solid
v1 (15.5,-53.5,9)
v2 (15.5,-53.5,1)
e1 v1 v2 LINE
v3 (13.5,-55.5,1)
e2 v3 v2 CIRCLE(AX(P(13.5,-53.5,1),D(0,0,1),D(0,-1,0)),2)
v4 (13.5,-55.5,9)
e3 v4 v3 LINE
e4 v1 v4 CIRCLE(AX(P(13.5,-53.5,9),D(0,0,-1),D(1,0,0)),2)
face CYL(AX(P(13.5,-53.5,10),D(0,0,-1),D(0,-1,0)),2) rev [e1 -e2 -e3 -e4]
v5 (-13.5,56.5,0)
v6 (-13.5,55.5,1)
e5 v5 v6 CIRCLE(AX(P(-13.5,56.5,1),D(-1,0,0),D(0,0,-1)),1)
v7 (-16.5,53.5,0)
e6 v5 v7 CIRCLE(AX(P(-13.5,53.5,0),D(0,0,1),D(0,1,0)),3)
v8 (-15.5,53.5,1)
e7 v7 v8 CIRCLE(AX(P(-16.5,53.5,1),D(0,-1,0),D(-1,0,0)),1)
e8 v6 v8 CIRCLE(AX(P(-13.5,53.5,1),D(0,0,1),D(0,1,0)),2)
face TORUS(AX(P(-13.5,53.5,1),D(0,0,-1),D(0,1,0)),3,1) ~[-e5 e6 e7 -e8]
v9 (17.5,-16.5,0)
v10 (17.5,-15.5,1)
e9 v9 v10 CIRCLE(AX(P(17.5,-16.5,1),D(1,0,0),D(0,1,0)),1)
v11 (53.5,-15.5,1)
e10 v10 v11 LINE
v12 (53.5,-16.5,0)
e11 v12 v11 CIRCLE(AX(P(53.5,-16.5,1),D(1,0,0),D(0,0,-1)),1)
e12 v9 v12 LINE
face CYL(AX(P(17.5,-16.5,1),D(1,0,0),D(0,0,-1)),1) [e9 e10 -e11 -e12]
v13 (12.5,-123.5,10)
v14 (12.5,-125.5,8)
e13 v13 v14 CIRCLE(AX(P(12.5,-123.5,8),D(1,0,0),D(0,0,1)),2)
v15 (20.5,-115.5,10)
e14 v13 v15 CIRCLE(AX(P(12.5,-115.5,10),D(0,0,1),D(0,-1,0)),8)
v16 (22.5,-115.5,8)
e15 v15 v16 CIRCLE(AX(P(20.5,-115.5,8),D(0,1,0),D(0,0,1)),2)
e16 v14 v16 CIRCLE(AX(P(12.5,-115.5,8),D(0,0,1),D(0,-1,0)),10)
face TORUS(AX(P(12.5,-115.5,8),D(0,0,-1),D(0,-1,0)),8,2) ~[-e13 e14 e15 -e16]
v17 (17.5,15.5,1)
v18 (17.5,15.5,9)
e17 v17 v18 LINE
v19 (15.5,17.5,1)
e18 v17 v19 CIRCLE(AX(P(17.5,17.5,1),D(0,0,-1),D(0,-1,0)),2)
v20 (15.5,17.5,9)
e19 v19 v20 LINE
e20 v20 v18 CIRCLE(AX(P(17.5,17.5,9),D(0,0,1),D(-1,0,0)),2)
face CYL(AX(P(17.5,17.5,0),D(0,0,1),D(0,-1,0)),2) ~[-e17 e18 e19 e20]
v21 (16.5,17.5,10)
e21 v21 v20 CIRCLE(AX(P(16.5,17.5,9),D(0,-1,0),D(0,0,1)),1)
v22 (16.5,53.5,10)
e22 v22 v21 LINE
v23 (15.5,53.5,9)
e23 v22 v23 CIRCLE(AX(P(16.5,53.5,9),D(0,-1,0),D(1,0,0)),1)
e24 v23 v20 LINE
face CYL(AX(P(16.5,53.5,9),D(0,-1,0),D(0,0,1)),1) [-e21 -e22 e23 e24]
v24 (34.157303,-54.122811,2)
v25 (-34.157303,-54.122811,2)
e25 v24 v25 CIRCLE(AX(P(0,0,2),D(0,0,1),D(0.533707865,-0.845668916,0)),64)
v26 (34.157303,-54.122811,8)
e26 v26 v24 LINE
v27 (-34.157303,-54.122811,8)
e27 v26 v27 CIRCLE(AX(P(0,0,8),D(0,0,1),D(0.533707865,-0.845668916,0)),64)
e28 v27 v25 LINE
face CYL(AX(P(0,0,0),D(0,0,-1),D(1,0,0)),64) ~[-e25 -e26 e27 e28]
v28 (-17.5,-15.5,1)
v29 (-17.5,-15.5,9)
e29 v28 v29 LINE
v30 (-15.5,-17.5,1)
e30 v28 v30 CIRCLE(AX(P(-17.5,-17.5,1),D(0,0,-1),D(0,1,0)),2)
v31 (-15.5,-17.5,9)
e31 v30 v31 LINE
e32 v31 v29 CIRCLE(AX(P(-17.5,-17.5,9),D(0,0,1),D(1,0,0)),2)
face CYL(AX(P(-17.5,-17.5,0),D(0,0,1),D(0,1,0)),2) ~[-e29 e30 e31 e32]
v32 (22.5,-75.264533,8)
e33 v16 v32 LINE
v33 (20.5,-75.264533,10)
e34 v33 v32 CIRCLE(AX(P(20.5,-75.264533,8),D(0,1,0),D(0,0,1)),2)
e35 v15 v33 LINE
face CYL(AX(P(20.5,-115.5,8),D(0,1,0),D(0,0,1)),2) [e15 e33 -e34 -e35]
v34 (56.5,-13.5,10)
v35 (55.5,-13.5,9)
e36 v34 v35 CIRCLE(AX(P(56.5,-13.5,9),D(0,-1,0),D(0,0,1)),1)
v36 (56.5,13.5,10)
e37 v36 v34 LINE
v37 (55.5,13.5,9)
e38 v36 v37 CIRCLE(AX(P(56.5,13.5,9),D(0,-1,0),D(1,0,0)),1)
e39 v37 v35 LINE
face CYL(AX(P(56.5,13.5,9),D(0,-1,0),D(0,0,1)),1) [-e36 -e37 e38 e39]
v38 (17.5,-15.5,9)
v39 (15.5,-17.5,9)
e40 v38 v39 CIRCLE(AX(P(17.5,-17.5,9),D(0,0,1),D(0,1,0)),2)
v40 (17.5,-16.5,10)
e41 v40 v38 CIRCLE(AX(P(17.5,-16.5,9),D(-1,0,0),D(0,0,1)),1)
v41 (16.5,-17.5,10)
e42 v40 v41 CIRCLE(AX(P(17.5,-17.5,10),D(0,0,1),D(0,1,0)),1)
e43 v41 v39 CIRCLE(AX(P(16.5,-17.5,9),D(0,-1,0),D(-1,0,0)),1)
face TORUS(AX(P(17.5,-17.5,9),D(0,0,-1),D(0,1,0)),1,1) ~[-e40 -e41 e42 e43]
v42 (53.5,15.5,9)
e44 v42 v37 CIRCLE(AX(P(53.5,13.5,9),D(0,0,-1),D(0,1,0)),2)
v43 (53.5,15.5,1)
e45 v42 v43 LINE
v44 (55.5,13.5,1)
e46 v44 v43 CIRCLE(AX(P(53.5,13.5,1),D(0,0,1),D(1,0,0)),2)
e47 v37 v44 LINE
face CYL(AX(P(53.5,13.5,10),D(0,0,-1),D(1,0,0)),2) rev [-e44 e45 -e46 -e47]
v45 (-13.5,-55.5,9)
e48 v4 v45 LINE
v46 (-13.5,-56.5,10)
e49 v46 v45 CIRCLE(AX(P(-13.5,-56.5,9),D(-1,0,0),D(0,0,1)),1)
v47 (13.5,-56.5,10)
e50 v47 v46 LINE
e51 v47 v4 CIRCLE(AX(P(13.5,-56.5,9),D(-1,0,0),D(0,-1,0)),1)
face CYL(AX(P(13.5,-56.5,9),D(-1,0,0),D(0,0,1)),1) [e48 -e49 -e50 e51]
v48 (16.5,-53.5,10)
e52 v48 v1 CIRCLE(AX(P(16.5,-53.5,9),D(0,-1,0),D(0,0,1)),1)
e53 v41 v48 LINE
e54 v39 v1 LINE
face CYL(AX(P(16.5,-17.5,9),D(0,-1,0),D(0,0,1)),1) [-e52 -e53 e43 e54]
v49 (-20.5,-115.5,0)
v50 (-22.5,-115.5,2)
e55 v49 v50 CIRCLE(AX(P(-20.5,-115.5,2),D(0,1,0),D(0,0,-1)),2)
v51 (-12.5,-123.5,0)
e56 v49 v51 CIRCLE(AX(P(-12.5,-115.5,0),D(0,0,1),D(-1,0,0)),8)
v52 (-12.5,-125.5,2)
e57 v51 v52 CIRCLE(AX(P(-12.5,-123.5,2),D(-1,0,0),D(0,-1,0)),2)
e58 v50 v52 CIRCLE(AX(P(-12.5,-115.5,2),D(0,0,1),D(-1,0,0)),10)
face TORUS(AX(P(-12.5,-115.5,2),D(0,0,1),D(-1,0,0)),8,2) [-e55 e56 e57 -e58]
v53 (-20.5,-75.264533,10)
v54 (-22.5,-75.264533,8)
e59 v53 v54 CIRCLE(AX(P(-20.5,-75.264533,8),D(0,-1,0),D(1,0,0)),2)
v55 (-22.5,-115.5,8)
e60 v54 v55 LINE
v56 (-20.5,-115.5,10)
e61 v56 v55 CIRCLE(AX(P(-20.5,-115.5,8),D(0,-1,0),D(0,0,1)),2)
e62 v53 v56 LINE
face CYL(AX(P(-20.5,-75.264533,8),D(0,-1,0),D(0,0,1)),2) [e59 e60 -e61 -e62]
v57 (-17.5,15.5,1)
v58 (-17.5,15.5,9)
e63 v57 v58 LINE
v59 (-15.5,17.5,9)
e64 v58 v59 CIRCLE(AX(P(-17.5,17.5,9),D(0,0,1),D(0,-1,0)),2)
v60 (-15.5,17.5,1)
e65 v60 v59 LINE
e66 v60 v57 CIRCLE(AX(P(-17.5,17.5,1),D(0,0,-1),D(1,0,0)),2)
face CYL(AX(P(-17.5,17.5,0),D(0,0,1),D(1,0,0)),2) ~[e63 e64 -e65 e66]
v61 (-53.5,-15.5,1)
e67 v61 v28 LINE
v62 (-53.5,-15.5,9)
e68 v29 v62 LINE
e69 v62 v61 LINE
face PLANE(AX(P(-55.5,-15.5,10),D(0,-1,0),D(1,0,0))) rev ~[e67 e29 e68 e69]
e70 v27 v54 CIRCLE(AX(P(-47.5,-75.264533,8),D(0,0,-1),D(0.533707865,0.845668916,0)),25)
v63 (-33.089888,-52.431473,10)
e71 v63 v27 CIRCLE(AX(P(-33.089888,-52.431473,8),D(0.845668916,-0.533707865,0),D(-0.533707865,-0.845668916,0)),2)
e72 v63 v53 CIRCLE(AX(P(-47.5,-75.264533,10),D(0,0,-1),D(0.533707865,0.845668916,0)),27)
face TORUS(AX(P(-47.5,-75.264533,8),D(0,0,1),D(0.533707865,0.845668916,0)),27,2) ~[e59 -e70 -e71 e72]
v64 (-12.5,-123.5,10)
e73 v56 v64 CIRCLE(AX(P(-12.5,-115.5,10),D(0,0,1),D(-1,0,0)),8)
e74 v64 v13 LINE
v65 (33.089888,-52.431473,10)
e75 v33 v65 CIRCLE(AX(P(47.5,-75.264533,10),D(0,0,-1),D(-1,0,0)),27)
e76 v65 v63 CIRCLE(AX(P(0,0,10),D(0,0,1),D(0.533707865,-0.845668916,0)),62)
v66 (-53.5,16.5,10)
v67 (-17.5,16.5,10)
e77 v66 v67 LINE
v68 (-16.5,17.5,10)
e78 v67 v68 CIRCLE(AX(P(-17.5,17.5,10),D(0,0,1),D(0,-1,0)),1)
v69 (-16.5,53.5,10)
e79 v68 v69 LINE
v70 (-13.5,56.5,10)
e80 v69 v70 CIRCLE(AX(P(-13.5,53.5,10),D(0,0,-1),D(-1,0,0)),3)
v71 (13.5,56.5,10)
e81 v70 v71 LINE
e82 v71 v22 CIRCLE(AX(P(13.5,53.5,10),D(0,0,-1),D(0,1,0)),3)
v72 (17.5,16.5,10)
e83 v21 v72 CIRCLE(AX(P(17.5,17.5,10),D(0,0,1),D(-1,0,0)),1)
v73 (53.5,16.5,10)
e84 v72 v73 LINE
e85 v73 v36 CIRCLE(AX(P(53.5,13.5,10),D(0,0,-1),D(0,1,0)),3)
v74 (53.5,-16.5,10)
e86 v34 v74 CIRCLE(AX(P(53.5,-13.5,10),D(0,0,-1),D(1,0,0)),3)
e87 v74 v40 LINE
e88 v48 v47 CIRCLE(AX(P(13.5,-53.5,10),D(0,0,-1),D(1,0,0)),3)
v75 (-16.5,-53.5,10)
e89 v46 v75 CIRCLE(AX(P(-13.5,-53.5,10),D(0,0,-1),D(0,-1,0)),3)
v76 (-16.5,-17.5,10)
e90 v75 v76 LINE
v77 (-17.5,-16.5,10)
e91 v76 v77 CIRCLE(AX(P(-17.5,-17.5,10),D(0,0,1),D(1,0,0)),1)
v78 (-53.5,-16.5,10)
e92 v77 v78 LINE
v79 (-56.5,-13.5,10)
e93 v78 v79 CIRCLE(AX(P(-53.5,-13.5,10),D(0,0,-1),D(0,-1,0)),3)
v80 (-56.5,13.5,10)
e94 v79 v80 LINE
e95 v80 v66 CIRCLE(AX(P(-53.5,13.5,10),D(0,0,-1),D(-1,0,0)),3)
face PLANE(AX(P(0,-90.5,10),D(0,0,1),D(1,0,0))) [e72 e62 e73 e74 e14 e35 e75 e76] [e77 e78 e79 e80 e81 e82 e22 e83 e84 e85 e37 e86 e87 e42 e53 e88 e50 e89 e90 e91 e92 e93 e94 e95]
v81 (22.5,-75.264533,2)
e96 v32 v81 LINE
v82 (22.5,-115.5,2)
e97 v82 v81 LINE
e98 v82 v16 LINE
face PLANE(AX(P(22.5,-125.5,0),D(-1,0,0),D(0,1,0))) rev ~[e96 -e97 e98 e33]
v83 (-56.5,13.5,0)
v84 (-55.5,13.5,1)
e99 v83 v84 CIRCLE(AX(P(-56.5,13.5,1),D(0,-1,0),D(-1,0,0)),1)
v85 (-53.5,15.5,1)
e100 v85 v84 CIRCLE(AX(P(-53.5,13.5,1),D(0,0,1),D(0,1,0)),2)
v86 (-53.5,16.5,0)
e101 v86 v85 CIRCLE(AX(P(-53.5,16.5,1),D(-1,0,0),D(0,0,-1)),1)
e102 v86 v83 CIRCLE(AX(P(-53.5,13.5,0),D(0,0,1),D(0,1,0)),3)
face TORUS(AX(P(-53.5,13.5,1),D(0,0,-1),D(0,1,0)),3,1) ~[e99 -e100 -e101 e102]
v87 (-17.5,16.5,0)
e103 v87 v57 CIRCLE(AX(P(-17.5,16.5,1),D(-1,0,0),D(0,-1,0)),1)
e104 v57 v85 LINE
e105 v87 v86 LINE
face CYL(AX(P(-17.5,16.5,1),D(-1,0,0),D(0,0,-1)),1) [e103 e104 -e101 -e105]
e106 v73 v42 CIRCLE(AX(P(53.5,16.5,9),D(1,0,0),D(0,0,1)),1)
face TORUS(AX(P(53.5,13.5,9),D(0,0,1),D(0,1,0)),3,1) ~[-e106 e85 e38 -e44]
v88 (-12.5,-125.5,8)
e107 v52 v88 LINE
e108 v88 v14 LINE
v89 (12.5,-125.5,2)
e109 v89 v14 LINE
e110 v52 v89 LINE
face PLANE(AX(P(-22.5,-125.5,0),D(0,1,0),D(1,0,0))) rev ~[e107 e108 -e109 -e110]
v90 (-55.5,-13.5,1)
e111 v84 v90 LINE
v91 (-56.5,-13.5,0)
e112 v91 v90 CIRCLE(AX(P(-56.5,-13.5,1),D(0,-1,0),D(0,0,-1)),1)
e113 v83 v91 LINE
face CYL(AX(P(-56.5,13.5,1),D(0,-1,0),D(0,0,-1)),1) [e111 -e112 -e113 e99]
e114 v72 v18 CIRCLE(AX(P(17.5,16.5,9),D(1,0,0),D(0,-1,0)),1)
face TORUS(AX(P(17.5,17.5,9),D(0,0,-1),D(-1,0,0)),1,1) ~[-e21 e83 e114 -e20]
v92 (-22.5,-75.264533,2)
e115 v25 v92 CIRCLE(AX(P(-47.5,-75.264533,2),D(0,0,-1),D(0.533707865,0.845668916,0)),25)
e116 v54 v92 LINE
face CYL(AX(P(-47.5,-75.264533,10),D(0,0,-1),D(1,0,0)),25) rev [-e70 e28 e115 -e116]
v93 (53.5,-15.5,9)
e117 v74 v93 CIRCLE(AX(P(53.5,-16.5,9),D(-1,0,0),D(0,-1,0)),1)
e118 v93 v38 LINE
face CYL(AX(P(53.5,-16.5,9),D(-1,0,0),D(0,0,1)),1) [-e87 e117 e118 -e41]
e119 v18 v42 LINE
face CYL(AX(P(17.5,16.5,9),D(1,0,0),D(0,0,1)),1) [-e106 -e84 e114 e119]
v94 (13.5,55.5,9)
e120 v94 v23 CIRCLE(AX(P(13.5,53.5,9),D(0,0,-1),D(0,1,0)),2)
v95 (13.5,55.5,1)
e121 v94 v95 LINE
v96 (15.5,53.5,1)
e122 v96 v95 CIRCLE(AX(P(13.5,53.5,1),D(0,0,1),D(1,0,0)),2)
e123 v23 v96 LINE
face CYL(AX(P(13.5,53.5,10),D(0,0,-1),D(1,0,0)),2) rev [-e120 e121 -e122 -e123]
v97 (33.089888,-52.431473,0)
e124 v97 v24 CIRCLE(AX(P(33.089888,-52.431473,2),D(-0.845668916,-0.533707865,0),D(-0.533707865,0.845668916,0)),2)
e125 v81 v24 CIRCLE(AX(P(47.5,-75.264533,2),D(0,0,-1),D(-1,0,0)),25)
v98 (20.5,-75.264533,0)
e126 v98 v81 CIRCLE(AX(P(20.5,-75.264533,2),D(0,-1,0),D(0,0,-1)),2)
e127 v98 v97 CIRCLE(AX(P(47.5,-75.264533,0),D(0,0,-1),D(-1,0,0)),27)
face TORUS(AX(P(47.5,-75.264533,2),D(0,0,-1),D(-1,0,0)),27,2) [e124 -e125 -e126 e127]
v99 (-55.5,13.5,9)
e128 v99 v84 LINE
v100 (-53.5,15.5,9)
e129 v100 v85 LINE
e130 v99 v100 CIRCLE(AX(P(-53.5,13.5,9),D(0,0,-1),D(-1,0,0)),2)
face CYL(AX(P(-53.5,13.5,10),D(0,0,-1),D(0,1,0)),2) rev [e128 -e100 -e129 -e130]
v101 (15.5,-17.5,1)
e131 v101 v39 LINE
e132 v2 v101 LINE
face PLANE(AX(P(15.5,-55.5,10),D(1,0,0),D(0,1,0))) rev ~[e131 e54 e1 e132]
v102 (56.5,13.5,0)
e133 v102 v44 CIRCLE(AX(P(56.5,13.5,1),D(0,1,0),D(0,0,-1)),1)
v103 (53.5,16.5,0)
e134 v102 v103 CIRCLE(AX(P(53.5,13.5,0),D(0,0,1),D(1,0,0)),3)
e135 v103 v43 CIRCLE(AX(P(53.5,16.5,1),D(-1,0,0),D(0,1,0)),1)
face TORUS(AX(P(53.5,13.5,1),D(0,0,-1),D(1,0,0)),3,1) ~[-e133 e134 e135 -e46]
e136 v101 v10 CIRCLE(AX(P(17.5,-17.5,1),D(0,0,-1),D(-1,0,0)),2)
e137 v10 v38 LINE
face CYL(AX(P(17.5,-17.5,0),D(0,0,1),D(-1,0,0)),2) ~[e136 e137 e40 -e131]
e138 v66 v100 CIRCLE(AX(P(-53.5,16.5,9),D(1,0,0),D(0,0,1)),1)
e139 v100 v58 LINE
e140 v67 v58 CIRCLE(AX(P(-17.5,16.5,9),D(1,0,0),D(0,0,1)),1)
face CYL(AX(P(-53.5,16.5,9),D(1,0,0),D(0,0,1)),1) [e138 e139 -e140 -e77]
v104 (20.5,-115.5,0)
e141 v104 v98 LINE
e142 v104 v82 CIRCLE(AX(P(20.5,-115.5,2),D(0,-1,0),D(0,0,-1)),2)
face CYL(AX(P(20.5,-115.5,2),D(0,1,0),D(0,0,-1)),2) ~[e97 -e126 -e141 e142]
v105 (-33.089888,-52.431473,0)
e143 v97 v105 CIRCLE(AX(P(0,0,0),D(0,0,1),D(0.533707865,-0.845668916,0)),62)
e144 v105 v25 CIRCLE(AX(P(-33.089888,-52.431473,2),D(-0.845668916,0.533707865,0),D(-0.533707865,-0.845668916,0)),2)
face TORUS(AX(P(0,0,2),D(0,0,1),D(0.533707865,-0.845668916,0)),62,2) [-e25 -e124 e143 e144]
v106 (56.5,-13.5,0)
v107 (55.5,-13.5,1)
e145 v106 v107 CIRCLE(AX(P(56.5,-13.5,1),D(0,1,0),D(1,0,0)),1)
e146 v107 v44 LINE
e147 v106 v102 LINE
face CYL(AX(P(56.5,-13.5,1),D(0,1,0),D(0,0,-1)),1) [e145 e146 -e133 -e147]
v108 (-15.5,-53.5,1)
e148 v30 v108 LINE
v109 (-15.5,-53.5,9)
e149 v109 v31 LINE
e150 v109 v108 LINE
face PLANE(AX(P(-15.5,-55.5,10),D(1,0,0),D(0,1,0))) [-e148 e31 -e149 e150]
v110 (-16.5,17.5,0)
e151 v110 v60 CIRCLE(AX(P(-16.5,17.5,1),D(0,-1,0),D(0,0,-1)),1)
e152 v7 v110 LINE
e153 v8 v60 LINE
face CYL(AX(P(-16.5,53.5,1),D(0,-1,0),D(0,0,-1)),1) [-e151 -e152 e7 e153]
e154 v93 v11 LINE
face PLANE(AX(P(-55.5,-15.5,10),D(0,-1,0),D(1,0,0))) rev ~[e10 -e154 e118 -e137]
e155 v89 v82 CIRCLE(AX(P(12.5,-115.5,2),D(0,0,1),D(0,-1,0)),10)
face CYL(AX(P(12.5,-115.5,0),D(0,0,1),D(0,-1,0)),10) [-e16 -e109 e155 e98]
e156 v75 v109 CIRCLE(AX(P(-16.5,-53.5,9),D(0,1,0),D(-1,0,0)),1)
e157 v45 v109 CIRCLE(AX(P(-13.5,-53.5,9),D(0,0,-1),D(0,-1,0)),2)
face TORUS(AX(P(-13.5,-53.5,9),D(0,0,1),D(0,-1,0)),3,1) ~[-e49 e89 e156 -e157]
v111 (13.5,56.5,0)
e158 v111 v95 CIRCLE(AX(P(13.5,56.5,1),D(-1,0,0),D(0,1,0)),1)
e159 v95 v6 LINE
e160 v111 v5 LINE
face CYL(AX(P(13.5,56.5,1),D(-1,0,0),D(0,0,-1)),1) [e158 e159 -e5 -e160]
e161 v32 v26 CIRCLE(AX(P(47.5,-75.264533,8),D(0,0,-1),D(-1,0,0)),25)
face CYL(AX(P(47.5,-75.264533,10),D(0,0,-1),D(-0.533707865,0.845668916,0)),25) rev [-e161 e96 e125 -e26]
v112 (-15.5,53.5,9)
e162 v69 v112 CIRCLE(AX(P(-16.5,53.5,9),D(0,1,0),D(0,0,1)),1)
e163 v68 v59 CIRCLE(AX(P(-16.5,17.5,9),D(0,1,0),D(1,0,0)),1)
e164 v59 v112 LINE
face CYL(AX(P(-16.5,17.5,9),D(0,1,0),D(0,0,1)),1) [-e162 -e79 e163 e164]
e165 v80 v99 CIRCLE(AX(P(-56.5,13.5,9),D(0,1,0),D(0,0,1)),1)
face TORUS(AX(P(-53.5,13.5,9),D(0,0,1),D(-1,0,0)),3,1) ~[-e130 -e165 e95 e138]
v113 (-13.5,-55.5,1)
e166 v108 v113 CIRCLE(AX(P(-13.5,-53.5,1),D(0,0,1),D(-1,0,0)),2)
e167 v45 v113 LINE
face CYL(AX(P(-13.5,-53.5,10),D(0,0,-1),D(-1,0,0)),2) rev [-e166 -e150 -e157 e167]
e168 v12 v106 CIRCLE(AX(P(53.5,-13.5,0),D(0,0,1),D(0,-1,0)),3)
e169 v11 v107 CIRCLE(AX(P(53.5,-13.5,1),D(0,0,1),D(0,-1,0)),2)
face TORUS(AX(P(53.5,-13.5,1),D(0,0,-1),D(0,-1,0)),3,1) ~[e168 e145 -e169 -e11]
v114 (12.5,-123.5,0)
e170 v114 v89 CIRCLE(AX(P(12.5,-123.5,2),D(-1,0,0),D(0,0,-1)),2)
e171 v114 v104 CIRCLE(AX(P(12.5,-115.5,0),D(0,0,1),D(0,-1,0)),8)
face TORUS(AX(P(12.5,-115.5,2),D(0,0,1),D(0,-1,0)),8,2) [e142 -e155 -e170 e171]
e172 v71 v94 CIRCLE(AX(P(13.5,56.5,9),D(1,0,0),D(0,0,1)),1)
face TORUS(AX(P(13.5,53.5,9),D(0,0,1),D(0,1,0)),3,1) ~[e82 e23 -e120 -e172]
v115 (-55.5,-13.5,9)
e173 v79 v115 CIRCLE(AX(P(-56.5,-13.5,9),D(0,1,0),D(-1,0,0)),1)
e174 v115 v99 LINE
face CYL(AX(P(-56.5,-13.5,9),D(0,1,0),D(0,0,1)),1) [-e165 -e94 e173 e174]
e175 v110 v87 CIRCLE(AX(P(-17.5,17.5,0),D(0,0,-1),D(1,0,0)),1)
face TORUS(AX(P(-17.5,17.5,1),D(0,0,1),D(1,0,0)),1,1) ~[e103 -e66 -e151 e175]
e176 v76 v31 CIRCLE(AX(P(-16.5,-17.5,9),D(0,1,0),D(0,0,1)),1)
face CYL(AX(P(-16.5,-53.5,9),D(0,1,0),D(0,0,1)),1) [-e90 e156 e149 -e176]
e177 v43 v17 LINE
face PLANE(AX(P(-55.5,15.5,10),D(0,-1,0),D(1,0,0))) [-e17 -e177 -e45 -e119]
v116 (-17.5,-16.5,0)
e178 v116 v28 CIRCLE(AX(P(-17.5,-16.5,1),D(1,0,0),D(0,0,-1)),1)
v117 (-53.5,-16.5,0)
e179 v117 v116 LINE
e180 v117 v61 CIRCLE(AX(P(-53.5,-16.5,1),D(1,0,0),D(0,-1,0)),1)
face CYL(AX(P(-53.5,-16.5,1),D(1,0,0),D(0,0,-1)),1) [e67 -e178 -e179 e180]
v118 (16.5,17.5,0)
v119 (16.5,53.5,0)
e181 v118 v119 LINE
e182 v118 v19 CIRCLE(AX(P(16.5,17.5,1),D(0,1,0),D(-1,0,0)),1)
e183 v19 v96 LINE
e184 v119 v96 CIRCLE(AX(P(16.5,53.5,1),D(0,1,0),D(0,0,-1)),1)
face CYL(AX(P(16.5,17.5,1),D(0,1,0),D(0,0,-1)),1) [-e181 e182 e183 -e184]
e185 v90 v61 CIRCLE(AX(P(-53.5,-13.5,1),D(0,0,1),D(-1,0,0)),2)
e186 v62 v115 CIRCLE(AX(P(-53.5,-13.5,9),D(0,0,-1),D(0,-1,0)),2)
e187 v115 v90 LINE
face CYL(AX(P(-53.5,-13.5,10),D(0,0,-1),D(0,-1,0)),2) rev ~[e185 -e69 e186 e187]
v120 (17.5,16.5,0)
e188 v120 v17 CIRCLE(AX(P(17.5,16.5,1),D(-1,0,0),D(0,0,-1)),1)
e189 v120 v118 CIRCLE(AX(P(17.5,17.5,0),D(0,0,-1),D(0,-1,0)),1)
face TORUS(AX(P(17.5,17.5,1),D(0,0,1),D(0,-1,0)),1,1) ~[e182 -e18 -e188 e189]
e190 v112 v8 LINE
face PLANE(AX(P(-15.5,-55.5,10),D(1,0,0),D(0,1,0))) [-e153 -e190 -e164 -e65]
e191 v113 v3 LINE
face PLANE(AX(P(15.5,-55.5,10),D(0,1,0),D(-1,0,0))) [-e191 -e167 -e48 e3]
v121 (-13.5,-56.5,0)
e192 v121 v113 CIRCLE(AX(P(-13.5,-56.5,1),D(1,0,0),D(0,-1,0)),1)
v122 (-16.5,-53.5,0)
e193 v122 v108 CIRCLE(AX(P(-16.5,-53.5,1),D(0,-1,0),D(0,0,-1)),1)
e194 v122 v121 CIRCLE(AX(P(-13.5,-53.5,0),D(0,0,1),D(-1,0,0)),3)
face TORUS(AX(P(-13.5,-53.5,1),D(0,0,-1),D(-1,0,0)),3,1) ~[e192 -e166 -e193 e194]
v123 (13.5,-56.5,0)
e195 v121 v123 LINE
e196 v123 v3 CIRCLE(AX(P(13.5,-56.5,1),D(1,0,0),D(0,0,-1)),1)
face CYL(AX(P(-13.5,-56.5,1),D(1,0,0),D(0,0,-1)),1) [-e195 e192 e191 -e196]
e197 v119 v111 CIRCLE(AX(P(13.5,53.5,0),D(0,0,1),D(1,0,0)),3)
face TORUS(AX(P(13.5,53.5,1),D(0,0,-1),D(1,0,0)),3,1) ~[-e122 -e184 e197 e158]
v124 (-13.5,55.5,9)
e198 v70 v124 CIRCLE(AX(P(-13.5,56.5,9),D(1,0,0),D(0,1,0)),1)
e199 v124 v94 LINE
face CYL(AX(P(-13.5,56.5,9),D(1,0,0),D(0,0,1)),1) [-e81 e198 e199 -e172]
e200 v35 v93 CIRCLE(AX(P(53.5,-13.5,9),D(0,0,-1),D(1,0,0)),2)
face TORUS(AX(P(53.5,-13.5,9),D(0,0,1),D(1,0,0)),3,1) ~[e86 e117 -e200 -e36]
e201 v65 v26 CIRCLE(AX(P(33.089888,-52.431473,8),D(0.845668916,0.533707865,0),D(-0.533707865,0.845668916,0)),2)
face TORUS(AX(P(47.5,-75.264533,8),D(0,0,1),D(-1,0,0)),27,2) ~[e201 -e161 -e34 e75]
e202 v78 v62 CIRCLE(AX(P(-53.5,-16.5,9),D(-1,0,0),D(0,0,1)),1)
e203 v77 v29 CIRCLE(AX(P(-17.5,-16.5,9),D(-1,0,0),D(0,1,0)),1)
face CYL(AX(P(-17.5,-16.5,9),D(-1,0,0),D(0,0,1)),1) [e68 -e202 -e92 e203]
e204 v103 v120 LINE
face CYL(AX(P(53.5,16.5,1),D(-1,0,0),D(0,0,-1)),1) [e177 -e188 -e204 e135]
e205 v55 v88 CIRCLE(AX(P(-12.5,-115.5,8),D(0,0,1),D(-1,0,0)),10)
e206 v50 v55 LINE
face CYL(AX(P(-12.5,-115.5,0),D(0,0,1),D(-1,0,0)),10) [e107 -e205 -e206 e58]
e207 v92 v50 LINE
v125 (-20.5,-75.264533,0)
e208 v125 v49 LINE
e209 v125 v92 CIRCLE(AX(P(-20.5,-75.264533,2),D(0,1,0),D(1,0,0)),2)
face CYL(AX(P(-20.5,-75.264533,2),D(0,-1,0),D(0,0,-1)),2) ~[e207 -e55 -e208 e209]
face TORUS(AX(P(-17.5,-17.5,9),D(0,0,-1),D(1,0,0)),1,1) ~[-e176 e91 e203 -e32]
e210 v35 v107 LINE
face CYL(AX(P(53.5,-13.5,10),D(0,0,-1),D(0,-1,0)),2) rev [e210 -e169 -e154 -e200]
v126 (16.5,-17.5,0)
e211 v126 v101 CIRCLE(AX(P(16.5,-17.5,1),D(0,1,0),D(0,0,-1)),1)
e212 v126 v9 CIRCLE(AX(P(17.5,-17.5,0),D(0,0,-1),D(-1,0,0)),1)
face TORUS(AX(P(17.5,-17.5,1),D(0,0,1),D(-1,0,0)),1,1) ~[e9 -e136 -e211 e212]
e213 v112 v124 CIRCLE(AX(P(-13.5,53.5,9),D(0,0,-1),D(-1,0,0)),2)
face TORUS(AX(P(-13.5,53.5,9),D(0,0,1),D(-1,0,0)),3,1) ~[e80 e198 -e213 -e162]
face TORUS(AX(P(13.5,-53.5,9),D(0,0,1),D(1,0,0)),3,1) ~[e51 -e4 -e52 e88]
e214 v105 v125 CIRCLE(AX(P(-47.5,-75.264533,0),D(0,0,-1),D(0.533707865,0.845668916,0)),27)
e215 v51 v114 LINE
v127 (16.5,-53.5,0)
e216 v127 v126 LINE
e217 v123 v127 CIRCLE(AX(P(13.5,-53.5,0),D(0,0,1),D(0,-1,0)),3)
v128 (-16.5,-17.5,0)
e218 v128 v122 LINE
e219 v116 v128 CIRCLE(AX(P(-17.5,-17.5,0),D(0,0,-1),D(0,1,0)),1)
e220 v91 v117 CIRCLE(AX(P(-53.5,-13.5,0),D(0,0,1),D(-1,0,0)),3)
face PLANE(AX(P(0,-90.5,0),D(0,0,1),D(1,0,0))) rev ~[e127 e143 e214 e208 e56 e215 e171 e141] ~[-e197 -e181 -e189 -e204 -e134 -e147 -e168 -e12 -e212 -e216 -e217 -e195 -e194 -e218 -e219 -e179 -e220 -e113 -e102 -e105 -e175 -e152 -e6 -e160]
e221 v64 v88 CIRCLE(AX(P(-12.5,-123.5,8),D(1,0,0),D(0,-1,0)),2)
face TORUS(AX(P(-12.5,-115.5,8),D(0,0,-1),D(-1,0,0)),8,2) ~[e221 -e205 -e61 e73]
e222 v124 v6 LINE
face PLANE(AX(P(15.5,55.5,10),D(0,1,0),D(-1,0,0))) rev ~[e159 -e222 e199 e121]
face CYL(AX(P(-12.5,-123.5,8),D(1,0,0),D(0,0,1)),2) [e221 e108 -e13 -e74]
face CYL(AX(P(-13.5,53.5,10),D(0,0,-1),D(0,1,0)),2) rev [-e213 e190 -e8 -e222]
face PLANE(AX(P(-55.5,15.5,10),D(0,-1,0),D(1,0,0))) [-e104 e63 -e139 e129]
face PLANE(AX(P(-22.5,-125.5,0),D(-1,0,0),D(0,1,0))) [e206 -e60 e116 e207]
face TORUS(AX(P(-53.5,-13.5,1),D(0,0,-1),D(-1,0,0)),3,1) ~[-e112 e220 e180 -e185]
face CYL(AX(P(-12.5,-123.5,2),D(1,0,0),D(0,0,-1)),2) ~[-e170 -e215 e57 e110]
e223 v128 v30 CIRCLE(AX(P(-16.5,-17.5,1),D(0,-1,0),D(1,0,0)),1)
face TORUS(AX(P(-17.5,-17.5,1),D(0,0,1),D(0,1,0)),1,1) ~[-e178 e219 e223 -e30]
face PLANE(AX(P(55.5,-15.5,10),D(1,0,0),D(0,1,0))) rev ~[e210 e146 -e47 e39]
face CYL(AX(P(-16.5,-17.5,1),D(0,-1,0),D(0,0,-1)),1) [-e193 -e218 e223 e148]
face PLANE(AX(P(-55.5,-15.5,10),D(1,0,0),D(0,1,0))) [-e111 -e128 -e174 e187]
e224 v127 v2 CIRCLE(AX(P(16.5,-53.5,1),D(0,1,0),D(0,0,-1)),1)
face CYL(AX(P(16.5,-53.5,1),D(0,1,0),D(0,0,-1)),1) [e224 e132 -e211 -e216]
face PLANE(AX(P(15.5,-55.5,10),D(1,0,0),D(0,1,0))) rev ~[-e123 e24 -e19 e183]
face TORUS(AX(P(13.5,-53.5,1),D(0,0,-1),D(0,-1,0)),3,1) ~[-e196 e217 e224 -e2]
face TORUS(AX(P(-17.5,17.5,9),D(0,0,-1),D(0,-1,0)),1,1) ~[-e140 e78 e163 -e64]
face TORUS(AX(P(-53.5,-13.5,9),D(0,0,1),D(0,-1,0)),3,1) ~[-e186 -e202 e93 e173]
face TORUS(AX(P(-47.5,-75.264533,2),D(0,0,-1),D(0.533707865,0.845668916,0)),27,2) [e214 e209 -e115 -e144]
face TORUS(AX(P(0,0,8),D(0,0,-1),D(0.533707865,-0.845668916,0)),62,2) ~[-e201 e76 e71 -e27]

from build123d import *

# Parameters (mm, degrees)
SKETCH_R           = 64
PAD_DEPTH          = 10
SKETCH001_W        = 111
SKETCH001_H        = 31
POCKET_DEPTH       = 372.591678
POLARPATTERN_COUNT = 2
POLARPATTERN_ANGLE = 90
FILLET_R           = 2
SKETCH002_W        = 45
SKETCH002_H        = 70
PAD001_DEPTH       = 10
FILLET001_R        = 10
FILLET002_R        = 25
FILLET003_R        = 2
FILLET004_R        = 1


with BuildPart() as part:
    # Sketch → Pad (new body)
    with BuildSketch(Plane.XY):
        Circle(SKETCH_R)
    extrude(amount=PAD_DEPTH)

    # Sketch001 (on Face3 of Pad) → Pocket (cut, through all)
    with BuildSketch(Plane.XY.offset(10)):
        Rectangle(SKETCH001_W, SKETCH001_H)
    pocket = extrude(amount=-POCKET_DEPTH, mode=Mode.SUBTRACT)

    # PolarPattern: Pocket ×2 about axis
    polarpattern_axis = Axis((0, 0, 10), (0, 0, 1))
    for i in range(1, POLARPATTERN_COUNT):
        add(pocket.rotate(polarpattern_axis, i * POLARPATTERN_ANGLE / (POLARPATTERN_COUNT - 1)), mode=Mode.SUBTRACT)

    # Fillet
    fillet_edges = [part.edges().sort_by_distance(p)[0] for p in [
        (-55.5, 15.5, 5),
        (-15.5, 15.5, 5),
        (-15.5, 55.5, 5),
        (15.5, 55.5, 5),
        (15.5, 15.5, 5),
        (55.5, 15.5, 5),
        (55.5, -15.5, 5),
        (15.5, -15.5, 5),
        (15.5, -55.5, 5),
        (-15.5, -55.5, 5),
        (-15.5, -15.5, 5),
        (-55.5, -15.5, 5),
    ]]
    fillet(fillet_edges, radius=FILLET_R)

    # Sketch002 → Pad001 (join)
    with BuildSketch(Plane.XY):
        with Locations((0, -90.5)):
            Rectangle(SKETCH002_W, SKETCH002_H)
    extrude(amount=PAD001_DEPTH)

    # Fillet001
    fillet001_edges = [part.edges().sort_by_distance(p)[0] for p in [
        (-22.5, -125.5, 5),
        (22.5, -125.5, 5),
    ]]
    fillet(fillet001_edges, radius=FILLET001_R)

    # Fillet002
    fillet002_edges = [part.edges().sort_by_distance(p)[0] for p in [
        (-22.5, -59.914522, 5),
        (22.5, -59.914522, 5),
    ]]
    fillet(fillet002_edges, radius=FILLET002_R)

    # Fillet003
    fillet003_edges = [part.edges().sort_by_distance(p)[0] for p in [
        (22.5, -95.382267, 10),
        (22.5, -95.382267, 0),
    ]]
    fillet(fillet003_edges, radius=FILLET003_R)

    # Fillet004
    fillet004_edges = [part.edges().sort_by_distance(p)[0] for p in [
        (-35.5, 15.5, 10),
        (15.5, -35.5, 0),
    ]]
    fillet(fillet004_edges, radius=FILLET004_R)


solid = part.part
